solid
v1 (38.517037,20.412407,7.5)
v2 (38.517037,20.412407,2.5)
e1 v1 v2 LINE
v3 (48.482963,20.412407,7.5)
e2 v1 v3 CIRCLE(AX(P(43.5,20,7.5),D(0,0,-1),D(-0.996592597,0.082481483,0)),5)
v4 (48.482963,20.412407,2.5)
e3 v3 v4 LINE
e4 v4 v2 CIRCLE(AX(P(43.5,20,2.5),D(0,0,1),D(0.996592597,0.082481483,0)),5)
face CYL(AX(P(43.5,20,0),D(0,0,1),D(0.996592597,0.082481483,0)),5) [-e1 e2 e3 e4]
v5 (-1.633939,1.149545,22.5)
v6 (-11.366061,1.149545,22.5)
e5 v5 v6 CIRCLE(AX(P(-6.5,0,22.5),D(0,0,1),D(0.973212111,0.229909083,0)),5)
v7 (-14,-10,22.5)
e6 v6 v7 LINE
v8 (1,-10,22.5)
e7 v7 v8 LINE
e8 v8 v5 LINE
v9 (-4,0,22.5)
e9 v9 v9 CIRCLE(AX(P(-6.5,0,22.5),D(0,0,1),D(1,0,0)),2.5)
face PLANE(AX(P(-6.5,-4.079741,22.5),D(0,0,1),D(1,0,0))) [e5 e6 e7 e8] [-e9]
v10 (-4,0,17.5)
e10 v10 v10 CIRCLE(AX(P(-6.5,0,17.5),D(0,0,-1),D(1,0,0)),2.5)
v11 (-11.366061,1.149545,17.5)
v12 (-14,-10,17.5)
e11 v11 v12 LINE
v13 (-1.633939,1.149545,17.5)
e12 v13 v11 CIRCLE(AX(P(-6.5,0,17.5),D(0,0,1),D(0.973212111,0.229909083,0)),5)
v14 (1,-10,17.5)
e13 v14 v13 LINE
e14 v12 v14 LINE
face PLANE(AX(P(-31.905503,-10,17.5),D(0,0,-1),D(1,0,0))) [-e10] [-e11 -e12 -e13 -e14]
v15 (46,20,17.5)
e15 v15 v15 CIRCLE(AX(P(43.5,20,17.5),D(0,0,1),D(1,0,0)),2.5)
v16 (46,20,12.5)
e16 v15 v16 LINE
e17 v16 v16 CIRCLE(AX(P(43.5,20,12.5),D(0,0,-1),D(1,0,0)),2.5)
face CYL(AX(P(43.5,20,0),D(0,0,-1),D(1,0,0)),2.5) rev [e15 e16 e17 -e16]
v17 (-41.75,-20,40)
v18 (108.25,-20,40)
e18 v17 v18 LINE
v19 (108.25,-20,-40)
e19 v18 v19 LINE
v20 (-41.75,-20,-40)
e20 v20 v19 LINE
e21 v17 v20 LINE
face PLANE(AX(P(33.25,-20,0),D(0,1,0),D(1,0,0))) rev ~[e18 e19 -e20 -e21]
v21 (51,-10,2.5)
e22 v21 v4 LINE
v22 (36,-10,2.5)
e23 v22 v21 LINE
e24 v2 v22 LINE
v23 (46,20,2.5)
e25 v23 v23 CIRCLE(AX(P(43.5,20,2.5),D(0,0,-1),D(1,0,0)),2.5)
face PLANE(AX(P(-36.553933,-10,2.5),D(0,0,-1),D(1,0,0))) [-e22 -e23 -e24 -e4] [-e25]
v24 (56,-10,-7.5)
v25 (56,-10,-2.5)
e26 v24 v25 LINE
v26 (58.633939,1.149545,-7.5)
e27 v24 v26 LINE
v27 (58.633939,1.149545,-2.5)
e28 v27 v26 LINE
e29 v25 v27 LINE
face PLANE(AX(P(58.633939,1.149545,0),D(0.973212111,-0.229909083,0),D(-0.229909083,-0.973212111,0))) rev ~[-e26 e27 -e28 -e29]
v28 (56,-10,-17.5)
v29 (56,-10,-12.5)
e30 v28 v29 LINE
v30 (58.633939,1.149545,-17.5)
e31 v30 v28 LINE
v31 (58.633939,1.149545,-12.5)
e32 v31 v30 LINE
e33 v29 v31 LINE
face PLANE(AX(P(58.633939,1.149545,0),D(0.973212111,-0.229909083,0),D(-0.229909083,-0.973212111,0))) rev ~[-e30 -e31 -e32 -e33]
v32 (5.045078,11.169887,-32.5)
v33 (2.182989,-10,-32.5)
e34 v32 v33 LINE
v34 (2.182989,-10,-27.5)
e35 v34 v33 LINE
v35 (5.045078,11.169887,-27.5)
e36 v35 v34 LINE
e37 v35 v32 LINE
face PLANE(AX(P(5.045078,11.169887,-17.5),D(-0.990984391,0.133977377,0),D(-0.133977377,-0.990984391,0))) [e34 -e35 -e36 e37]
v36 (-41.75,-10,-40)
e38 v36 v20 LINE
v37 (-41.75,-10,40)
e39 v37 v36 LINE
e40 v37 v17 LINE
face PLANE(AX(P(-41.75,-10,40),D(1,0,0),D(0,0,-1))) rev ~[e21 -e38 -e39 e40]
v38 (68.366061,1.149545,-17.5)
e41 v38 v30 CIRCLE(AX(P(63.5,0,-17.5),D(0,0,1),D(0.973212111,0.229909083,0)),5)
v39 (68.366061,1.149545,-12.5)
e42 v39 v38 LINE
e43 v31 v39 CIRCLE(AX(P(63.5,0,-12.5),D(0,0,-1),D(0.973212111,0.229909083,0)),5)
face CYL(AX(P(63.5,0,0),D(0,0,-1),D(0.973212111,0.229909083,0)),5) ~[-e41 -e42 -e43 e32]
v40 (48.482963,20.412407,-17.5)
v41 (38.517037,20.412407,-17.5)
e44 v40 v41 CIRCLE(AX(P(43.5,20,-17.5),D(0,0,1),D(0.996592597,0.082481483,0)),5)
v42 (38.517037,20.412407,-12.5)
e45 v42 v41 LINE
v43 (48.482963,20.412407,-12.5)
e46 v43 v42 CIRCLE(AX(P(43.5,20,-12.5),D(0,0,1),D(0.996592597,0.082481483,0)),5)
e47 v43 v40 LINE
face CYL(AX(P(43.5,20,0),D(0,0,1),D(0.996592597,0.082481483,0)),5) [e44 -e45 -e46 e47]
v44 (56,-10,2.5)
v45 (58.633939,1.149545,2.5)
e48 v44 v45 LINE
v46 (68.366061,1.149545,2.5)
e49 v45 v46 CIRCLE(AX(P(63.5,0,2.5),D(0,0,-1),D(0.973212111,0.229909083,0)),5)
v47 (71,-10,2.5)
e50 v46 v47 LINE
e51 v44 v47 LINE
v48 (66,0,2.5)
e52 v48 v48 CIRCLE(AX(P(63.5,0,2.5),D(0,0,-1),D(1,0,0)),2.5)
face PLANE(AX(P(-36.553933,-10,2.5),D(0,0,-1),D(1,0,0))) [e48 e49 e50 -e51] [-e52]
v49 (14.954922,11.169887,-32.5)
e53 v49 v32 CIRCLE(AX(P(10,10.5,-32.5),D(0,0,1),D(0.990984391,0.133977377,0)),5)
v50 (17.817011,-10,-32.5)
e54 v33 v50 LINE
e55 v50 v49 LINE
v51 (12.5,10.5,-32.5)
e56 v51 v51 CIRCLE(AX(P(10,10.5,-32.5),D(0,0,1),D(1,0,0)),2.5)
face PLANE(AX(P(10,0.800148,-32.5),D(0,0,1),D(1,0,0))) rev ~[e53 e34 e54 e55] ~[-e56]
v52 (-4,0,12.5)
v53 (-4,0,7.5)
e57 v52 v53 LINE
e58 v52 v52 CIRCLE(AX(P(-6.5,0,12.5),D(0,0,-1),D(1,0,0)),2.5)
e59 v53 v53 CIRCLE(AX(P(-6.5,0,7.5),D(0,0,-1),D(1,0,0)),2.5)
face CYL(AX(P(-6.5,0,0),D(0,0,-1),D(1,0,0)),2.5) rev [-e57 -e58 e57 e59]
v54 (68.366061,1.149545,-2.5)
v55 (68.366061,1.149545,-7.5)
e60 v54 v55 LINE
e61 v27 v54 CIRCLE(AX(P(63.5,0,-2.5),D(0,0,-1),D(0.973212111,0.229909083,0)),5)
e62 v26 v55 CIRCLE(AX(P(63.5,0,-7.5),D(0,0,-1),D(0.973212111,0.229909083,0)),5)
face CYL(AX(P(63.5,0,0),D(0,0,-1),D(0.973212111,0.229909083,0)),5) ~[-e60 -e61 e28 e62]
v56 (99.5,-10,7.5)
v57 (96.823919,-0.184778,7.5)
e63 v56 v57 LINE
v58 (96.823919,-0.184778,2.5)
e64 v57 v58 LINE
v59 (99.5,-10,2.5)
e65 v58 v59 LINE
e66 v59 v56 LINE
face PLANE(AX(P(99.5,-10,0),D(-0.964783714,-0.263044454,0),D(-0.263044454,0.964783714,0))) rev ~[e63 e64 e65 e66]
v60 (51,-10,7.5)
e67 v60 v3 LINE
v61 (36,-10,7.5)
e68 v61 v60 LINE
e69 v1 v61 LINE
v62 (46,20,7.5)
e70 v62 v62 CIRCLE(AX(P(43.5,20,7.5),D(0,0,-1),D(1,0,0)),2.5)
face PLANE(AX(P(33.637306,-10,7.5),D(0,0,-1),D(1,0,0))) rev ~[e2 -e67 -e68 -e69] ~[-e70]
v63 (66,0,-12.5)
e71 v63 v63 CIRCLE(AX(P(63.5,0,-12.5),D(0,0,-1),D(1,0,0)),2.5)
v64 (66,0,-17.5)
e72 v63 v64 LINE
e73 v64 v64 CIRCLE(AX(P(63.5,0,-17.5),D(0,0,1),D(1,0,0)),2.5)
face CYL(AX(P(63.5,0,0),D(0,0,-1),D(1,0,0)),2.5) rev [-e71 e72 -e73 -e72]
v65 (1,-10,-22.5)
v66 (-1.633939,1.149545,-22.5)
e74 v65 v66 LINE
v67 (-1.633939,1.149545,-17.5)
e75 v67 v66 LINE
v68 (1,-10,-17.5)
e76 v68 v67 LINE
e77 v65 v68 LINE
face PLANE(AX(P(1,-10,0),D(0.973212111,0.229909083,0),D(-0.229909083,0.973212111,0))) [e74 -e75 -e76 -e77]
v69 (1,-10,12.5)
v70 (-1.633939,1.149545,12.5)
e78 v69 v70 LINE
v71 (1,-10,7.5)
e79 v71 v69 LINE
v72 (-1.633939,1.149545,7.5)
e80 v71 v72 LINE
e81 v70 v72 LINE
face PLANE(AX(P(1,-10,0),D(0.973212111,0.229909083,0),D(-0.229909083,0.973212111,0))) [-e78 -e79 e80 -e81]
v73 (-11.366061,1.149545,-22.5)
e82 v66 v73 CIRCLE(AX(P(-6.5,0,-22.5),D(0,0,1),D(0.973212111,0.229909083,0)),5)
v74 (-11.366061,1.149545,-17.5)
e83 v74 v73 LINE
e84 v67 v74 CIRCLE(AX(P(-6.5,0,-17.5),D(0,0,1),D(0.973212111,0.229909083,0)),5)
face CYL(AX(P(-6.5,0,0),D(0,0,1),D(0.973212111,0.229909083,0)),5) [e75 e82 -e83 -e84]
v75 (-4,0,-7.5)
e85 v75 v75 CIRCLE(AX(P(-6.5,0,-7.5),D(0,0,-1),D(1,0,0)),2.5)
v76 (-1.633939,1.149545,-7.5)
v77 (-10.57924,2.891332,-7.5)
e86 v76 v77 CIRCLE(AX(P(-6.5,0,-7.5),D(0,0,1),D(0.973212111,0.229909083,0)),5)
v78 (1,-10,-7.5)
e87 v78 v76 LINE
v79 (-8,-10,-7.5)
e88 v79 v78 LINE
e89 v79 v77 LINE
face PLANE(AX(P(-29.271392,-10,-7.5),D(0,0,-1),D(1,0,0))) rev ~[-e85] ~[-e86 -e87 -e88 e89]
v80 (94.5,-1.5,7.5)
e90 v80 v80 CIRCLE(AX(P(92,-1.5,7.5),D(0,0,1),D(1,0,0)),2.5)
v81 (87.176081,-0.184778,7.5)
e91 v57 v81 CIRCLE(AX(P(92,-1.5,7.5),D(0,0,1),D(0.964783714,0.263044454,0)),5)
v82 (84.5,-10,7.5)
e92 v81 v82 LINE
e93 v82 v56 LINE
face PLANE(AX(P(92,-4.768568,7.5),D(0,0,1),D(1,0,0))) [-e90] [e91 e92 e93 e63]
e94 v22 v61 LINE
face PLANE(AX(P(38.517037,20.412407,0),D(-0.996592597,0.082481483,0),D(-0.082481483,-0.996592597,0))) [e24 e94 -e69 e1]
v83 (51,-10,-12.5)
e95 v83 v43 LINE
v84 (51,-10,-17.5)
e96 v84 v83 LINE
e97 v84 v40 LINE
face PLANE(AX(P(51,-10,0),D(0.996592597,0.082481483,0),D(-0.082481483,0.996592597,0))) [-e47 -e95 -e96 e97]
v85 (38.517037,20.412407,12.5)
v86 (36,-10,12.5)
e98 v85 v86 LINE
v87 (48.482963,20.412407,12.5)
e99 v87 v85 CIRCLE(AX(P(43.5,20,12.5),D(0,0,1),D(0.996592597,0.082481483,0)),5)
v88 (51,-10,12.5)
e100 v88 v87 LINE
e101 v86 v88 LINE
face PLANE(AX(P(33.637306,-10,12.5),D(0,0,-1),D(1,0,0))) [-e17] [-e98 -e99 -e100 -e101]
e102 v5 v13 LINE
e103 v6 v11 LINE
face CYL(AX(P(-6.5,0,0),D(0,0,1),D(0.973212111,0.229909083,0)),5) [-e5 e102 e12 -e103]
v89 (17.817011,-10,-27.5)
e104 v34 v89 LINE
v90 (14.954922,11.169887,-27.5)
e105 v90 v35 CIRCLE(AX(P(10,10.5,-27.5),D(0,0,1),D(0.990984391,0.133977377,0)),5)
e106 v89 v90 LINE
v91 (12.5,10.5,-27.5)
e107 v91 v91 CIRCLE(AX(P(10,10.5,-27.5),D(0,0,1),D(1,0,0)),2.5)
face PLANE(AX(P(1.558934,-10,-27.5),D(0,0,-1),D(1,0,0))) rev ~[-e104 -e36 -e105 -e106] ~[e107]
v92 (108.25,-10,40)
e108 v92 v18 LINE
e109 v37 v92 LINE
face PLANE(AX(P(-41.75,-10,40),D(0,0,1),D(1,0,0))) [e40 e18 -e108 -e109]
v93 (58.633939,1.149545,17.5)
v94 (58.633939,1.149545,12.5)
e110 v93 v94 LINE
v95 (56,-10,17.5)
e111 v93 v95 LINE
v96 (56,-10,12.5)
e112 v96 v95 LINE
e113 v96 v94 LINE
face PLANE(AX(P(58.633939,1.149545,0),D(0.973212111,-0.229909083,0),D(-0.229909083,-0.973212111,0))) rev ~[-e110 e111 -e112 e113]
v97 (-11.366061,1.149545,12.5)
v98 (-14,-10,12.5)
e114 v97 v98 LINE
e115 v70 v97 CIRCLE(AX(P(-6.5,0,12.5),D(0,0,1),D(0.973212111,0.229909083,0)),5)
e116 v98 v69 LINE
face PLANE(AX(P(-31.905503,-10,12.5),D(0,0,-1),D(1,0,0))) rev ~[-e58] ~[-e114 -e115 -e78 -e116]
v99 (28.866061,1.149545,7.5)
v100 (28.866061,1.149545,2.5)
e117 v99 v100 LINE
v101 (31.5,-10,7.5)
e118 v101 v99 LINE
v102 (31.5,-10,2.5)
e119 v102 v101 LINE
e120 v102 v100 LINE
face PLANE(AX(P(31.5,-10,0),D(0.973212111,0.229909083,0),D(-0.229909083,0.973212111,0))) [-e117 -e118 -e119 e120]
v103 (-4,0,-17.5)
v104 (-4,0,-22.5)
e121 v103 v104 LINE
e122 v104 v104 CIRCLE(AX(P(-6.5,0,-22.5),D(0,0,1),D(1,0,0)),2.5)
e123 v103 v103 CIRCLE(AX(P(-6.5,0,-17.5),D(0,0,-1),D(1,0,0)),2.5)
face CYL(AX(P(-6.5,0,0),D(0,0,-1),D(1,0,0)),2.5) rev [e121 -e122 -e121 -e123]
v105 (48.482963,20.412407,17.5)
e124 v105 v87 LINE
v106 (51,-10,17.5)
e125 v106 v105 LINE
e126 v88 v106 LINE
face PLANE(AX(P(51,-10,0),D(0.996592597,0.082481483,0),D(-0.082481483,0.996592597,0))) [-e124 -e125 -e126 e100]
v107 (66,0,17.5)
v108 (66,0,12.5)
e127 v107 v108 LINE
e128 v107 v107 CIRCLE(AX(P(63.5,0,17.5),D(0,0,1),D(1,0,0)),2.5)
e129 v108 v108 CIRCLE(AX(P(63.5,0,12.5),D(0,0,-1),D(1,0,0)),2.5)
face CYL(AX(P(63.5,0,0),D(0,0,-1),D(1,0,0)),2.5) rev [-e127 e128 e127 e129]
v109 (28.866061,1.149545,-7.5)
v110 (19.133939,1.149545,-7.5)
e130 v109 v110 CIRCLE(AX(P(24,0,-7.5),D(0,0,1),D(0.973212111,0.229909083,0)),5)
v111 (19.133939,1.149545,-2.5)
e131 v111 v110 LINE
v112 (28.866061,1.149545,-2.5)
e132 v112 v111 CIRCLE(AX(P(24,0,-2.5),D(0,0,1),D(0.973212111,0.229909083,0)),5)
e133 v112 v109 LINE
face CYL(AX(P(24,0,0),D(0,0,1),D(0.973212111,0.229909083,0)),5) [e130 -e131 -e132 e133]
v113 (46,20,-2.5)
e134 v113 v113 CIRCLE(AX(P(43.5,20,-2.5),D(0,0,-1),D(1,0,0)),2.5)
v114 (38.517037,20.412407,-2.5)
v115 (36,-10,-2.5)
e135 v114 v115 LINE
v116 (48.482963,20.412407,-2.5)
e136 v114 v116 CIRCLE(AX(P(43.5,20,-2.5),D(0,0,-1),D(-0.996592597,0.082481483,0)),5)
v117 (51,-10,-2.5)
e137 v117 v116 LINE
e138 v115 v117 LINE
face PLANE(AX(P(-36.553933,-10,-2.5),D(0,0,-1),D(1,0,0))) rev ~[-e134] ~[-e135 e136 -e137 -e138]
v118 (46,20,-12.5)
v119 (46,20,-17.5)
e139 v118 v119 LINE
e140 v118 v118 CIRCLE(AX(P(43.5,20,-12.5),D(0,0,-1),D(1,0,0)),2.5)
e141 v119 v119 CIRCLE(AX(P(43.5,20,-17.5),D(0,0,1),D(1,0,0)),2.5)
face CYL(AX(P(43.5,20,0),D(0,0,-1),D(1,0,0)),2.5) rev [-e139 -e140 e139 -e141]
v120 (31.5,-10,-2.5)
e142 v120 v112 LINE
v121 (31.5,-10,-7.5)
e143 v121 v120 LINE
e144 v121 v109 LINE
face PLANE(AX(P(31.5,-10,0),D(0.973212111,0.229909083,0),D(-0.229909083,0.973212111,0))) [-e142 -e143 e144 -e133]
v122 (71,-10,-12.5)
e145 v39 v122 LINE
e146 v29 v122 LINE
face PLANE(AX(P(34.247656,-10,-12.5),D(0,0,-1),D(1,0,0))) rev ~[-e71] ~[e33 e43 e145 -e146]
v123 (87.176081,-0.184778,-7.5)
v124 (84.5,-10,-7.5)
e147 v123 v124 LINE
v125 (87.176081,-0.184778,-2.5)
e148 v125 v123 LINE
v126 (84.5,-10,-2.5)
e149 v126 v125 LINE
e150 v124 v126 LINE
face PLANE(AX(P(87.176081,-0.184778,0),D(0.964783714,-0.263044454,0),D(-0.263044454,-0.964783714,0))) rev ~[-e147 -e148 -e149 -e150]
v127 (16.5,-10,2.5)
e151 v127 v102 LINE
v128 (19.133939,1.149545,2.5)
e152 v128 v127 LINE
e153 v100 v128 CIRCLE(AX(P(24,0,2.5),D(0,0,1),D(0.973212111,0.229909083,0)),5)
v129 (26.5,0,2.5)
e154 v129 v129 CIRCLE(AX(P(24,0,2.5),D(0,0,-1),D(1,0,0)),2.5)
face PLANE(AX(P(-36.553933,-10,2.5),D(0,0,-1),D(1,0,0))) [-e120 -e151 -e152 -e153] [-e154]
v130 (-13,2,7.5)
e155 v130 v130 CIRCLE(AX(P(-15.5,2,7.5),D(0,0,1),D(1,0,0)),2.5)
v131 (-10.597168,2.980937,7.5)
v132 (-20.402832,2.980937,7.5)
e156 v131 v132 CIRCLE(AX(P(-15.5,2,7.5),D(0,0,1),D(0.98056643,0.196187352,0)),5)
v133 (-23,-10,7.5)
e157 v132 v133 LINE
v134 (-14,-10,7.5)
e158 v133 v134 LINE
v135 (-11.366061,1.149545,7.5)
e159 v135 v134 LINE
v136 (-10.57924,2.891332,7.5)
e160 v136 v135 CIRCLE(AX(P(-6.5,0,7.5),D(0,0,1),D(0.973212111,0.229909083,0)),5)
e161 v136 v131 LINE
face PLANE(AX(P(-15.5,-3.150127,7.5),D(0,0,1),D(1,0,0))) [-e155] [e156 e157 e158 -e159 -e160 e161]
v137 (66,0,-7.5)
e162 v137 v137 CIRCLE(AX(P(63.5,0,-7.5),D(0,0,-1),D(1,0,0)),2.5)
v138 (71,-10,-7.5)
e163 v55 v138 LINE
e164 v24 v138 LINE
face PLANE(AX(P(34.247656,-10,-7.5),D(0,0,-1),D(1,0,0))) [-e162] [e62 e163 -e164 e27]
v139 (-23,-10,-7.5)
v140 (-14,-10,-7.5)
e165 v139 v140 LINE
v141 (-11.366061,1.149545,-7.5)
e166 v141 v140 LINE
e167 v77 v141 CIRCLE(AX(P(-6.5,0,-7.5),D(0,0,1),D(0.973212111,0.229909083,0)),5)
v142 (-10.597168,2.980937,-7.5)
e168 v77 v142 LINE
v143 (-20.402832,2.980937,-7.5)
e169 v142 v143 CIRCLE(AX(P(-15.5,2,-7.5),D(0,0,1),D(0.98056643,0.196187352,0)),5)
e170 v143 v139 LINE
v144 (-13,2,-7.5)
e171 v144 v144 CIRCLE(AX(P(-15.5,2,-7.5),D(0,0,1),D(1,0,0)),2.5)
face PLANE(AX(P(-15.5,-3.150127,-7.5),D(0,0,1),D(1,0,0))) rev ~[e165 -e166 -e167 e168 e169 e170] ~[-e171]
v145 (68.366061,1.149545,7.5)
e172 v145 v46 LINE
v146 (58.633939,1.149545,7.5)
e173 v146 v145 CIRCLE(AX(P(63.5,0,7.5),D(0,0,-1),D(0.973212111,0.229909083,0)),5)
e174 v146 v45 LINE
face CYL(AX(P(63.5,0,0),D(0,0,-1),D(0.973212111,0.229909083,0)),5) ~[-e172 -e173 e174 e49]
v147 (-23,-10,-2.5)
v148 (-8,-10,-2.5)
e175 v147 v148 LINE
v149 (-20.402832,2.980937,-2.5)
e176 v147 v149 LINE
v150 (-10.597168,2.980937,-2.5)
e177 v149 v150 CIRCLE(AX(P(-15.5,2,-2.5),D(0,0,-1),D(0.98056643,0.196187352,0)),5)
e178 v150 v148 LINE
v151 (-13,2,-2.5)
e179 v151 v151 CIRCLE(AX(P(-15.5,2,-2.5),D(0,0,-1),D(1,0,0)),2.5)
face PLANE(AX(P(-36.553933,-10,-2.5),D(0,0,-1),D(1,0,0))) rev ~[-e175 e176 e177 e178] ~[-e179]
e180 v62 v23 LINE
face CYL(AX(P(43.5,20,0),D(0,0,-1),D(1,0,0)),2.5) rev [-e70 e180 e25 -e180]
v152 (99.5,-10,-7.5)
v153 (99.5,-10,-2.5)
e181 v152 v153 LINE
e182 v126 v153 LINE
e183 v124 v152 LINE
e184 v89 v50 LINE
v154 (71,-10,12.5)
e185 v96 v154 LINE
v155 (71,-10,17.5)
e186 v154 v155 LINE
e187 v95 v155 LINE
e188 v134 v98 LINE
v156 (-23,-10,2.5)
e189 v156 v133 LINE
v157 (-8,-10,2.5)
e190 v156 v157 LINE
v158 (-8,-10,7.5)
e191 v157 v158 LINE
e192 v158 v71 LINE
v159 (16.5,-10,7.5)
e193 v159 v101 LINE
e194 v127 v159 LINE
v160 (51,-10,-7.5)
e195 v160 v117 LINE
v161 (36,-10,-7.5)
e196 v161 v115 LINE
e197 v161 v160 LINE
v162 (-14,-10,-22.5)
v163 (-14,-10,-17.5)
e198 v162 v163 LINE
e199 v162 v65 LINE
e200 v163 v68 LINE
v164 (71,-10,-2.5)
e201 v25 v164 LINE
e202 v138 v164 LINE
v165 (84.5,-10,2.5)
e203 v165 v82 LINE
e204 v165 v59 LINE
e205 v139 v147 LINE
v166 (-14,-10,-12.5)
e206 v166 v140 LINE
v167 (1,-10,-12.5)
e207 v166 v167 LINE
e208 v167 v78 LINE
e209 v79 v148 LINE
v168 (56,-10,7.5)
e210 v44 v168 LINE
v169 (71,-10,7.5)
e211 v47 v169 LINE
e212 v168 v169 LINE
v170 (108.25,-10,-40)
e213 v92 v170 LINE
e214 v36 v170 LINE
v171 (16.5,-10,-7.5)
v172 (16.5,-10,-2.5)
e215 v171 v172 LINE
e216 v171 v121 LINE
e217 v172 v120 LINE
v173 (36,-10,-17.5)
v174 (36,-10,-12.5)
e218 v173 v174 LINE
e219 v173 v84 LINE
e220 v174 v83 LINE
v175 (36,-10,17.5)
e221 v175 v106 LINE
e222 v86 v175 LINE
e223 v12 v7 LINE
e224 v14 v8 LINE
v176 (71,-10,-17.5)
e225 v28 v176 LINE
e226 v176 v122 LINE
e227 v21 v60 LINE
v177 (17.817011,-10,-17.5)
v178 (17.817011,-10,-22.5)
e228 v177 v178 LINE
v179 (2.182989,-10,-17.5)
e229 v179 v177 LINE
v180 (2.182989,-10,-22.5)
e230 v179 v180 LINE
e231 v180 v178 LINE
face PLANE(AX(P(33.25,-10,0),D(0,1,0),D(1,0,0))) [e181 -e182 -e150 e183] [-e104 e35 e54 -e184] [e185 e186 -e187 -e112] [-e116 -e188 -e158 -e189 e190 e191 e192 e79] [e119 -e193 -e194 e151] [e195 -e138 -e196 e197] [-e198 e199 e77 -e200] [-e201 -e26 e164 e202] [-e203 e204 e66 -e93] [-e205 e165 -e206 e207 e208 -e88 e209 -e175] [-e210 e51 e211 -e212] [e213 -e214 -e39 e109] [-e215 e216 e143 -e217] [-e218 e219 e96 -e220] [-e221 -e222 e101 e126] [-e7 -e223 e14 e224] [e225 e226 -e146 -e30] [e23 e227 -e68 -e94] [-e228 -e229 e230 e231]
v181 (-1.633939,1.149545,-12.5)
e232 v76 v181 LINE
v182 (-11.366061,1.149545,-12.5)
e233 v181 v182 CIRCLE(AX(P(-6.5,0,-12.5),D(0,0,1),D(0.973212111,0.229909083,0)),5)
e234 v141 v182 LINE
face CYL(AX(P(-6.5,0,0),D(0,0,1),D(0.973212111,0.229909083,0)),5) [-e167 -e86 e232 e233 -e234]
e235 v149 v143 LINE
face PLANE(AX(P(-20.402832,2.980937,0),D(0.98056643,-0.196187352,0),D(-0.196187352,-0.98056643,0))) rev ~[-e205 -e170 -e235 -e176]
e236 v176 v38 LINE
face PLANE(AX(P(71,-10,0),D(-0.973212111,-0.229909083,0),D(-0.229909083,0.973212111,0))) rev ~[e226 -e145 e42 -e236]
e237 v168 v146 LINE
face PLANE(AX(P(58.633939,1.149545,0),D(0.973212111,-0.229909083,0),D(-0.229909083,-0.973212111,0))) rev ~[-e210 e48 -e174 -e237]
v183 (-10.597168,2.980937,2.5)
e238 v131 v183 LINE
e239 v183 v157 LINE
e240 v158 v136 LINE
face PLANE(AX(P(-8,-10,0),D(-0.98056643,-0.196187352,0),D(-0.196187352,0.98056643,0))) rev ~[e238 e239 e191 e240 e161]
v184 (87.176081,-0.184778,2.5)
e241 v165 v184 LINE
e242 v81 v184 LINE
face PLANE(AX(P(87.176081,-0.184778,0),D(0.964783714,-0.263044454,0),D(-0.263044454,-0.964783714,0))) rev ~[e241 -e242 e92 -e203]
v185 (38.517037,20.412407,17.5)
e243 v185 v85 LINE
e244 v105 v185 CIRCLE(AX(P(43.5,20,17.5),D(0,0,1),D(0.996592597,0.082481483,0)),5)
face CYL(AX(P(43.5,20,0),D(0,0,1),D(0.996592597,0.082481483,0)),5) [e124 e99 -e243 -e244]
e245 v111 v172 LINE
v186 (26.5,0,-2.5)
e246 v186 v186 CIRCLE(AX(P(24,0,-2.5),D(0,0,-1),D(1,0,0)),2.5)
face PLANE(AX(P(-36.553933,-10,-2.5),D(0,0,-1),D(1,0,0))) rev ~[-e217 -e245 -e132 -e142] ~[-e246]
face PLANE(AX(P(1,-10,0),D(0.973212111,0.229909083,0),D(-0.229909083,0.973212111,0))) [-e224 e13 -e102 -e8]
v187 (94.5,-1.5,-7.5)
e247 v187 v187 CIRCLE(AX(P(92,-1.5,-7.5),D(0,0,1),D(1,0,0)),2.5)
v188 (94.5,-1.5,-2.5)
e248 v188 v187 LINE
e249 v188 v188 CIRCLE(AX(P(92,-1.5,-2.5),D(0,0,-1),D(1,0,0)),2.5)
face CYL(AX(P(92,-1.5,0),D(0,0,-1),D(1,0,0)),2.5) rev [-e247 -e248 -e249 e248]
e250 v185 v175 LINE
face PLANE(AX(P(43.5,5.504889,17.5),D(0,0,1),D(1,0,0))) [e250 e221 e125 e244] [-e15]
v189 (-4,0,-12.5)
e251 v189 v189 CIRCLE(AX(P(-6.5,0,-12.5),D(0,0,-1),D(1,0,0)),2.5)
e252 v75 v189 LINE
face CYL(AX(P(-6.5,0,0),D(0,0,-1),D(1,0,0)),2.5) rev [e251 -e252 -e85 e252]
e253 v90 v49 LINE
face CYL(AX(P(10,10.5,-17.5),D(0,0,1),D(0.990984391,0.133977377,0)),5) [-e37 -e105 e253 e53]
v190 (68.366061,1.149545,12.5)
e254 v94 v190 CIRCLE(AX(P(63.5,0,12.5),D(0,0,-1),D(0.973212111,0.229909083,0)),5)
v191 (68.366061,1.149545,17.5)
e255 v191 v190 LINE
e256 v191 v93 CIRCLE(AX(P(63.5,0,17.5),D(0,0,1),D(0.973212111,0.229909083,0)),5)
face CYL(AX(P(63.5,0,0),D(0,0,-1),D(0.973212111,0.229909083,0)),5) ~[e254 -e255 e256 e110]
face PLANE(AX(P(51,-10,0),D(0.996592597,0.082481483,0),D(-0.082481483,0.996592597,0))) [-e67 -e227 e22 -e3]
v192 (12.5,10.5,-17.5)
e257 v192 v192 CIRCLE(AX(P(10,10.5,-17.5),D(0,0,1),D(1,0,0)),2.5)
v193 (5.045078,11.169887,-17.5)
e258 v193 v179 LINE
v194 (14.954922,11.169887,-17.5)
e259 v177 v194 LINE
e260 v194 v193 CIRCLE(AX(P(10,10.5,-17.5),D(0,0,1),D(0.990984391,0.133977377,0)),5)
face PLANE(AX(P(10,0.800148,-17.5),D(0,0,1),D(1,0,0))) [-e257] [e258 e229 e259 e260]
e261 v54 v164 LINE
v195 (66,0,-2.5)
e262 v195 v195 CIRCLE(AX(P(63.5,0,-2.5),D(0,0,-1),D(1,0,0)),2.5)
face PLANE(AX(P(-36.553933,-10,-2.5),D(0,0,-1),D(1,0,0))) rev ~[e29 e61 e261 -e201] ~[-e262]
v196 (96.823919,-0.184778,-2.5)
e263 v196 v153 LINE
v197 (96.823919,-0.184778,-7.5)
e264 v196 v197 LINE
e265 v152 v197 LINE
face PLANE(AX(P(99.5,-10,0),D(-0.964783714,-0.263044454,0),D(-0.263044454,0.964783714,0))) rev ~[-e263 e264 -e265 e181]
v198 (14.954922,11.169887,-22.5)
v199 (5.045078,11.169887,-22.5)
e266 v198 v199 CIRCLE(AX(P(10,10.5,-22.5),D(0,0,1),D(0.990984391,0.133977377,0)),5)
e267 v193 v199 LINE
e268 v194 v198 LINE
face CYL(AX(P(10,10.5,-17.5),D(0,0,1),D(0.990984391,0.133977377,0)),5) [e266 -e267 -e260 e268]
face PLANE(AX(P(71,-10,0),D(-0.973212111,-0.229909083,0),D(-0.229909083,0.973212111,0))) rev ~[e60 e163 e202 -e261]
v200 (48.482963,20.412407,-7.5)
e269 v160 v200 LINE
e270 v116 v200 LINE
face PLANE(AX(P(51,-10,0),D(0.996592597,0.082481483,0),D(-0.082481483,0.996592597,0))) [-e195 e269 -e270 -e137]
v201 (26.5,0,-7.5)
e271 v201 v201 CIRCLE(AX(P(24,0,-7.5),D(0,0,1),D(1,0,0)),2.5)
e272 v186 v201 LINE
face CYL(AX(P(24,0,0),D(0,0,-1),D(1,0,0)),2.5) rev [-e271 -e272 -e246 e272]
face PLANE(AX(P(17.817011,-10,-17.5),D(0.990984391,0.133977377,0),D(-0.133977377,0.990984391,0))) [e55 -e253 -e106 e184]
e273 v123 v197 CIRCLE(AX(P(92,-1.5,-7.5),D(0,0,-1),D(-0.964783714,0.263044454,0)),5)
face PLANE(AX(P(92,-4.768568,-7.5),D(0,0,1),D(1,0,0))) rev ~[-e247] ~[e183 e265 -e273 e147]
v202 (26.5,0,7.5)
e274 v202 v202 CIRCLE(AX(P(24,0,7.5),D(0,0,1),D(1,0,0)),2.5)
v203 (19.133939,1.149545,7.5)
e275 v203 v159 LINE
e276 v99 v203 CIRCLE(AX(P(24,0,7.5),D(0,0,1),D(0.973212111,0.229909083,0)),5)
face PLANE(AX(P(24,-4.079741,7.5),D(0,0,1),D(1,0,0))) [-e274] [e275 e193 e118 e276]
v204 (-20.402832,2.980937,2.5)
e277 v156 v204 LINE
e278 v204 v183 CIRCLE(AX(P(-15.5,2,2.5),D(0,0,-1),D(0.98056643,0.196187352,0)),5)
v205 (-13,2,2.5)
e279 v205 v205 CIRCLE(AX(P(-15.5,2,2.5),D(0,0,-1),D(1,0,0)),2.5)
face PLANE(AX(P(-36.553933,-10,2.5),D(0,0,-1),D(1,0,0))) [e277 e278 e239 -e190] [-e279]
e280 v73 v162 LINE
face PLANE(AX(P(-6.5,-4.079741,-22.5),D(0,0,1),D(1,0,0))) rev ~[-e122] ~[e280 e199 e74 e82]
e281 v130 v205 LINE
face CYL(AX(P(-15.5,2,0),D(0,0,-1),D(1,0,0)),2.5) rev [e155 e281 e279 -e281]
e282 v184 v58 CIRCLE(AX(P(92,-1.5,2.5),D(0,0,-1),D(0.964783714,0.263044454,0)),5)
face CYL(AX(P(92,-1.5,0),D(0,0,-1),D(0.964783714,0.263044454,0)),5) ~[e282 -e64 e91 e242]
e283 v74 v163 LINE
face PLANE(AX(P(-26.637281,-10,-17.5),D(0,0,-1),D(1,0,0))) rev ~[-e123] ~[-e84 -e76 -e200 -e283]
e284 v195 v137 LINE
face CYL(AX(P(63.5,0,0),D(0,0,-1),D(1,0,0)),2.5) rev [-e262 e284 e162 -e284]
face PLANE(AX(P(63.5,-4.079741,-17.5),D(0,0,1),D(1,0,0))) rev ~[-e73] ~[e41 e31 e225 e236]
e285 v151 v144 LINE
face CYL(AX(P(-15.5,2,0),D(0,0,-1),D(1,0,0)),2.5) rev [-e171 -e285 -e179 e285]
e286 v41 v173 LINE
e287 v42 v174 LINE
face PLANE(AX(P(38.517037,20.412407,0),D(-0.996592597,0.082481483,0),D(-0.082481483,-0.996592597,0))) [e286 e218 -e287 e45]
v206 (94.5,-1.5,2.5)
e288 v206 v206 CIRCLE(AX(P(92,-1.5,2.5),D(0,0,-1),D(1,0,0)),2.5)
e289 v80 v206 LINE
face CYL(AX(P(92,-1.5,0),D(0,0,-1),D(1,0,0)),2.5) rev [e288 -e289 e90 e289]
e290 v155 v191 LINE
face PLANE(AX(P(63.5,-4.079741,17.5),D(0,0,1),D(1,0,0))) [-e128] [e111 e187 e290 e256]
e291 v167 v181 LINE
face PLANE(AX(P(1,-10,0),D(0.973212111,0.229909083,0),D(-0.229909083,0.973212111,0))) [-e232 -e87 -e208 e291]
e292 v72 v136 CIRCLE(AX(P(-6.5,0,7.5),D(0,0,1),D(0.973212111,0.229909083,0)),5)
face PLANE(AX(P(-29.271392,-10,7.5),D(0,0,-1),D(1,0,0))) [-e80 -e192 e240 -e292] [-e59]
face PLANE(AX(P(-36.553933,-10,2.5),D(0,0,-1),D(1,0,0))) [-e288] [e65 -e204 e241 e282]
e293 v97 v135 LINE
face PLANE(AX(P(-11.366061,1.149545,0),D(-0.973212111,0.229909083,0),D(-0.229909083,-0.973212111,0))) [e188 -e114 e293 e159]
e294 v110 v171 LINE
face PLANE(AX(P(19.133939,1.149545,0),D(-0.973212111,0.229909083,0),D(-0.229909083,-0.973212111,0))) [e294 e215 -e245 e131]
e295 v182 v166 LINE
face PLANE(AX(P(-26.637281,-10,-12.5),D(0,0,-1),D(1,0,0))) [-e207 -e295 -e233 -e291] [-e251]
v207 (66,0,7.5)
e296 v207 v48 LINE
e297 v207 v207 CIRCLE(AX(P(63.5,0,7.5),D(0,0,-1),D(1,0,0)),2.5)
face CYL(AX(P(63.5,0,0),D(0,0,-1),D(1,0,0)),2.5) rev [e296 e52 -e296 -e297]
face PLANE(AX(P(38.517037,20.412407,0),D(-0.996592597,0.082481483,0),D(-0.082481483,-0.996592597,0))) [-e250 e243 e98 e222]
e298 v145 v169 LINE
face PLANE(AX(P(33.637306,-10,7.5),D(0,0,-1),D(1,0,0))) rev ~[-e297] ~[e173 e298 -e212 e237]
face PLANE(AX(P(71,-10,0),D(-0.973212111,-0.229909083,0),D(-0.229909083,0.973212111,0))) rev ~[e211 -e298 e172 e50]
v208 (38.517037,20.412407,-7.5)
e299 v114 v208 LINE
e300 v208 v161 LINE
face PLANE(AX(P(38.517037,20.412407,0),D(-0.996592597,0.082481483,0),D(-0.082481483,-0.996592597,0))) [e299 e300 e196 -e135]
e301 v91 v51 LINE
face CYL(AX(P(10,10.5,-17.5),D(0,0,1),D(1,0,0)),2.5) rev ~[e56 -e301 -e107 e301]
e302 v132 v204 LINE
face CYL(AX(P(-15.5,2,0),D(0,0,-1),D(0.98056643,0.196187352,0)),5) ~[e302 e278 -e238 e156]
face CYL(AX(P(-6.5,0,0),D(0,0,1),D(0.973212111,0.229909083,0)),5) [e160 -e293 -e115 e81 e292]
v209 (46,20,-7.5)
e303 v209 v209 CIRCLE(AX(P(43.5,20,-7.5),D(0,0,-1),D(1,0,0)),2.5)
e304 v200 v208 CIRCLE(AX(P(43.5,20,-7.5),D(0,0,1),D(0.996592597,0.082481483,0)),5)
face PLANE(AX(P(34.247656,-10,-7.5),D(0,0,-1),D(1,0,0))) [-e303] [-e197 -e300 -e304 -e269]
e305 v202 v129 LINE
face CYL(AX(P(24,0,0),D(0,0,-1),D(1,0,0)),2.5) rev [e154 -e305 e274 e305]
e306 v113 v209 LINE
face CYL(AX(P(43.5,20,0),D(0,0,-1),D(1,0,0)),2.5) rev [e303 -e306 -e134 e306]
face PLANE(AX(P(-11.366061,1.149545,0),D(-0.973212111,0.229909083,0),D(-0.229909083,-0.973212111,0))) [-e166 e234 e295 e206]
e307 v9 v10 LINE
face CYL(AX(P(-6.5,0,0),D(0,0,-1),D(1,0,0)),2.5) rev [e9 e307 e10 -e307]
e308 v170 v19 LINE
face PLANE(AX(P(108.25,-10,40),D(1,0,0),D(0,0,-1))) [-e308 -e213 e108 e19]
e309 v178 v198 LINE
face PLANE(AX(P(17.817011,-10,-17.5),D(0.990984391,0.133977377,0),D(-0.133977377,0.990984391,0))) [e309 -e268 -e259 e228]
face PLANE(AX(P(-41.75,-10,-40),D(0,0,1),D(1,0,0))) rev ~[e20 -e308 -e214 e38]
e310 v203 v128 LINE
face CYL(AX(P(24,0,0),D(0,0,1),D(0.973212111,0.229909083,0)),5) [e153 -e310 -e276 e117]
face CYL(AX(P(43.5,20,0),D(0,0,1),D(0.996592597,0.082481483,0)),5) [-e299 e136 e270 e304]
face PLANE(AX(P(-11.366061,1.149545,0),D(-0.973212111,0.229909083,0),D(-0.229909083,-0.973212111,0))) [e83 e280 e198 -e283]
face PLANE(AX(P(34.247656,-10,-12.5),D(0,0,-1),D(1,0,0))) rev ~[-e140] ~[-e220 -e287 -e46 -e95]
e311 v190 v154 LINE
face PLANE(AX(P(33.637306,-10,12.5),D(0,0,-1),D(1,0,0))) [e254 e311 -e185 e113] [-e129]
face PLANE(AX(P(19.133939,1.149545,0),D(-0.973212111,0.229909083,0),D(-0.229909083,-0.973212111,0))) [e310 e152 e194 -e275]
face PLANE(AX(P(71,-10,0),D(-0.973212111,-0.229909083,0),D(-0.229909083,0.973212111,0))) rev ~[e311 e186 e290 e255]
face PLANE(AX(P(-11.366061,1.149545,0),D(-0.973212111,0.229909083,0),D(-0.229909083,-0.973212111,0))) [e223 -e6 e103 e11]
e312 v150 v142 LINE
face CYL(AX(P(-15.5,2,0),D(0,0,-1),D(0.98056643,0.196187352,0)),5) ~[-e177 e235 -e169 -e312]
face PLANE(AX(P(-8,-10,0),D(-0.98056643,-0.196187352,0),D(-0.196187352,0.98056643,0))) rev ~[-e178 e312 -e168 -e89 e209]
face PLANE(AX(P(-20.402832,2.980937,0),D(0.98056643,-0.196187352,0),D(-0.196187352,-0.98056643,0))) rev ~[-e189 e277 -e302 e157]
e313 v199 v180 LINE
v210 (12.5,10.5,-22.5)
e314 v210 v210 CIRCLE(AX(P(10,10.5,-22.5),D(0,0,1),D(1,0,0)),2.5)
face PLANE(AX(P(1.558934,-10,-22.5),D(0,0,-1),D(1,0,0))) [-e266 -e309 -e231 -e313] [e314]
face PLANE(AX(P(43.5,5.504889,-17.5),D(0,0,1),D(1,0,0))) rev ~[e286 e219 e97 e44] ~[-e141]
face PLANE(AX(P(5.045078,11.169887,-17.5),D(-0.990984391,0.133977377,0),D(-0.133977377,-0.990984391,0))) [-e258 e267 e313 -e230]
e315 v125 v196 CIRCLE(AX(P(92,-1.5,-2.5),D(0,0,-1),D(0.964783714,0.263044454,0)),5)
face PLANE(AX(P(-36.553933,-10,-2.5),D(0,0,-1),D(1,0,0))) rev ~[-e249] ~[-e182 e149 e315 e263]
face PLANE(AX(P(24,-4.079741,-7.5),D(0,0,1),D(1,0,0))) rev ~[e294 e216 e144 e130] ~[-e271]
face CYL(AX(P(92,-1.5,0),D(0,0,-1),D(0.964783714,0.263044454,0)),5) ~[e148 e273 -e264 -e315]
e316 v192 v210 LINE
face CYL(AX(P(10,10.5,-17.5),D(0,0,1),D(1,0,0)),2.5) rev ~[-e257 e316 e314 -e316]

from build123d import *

# Parameters (mm, degrees)
EXTRUDE_START       = -10
SKETCH_3_W          = 150
SKETCH_3_H          = 80
EXTRUDE_3_DEPTH     = 10
SKETCH_5_R          = 2.5
EXTRUDE_5_DEPTH     = 22.5
SKETCH_6_W          = 53.56449621
SKETCH_6_H          = 15
SKETCH_6_W_2        = 55.316324433
SKETCH_6_H_2        = 5
SKETCH_6_W_3        = 50.048103058
CUT_EXTRUDE_1_DEPTH = 40
SKETCH_7_R          = 2.5
EXTRUDE_6_DEPTH     = 17.5
SKETCH_4_R          = 2.5
EXTRUDE_4_DEPTH     = 7.5
EXTRUDE_START_2     = -17.5
SKETCH_9_R          = 2.5
EXTRUDE_7_DEPTH     = 15
SKETCH_8_W          = 149.834413798
SKETCH_8_H          = 5
SKETCH_8_W_2        = 53.466456482
SKETCH_8_W_3        = 46.484368984
SKETCH_8_W_4        = 21.970588524
CUT_EXTRUDE_2_DEPTH = 35


with BuildPart() as part:
    # 草圖3 → 填料-伸長3 (new body)
    with BuildSketch(Plane(origin=(0, 0, 0), x_dir=(1, 0, 0), z_dir=(0, 1, 0)).offset(EXTRUDE_START)):
        with Locations((33.25, 0)):
            Rectangle(SKETCH_3_W, SKETCH_3_H)
    extrude(amount=-EXTRUDE_3_DEPTH)

    # 草圖5 → 填料-伸長5 (add, symmetric)
    with BuildSketch(Plane.XY):
        with BuildLine():
            Line((-11.366060556, 1.149545417), (-14, -10))
            Line((-14, -10), (1, -10))
            Line((1, -10), (-1.633939444, 1.149545417))
            ThreePointArc((-1.633939444, 1.149545417), (-6.5, 5), (-11.366060556, 1.149545417))
        make_face()
        with Locations((-6.5, 0)):
            Circle(SKETCH_5_R, mode=Mode.SUBTRACT)
    extrude(amount=EXTRUDE_5_DEPTH, both=True)

    # 草圖6 → 除料-伸長1 (cut)
    with BuildSketch(Plane(origin=(0, -10, 0), x_dir=(1, 0, 0), z_dir=(0, 1, 0))):
        with Locations((-2.489143795, 0)):
            Rectangle(SKETCH_6_W, SKETCH_6_H)
        with Locations((-4.247340371, -15)):
            Rectangle(SKETCH_6_W_2, SKETCH_6_H_2)
        with Locations((-1.613229684, 15)):
            Rectangle(SKETCH_6_W_3, SKETCH_6_H_2)
    extrude(amount=CUT_EXTRUDE_1_DEPTH, mode=Mode.SUBTRACT)

    # 草圖7 → 填料-伸長6 (add, symmetric)
    with BuildSketch(Plane.XY):
        with BuildLine():
            Line((58.633939444, 1.149545417), (56, -10))
            Line((56, -10), (71, -10))
            Line((71, -10), (68.366060556, 1.149545417))
            ThreePointArc((68.366060556, 1.149545417), (63.5, 5), (58.633939444, 1.149545417))
        make_face()
        with Locations((63.5, 0)):
            Circle(SKETCH_7_R, mode=Mode.SUBTRACT)
        with BuildLine():
            Line((38.517037013, 20.412407413), (36, -10))
            Line((36, -10), (51, -10))
            Line((51, -10), (48.482962987, 20.412407413))
            ThreePointArc((48.482962987, 20.412407413), (43.5, 25), (38.517037013, 20.412407413))
        make_face()
        with Locations((43.5, 20)):
            Circle(SKETCH_7_R, mode=Mode.SUBTRACT)
    extrude(amount=EXTRUDE_6_DEPTH, both=True)

    # 草圖4 → 填料-伸長4 (add, symmetric)
    with BuildSketch(Plane.XY):
        with BuildLine():
            Line((87.176081429, -0.184777731), (84.5, -10))
            Line((84.5, -10), (99.5, -10))
            Line((99.5, -10), (96.823918571, -0.184777731))
            ThreePointArc((96.823918571, -0.184777731), (92, 3.5), (87.176081429, -0.184777731))
        make_face()
        with Locations((92, -1.5)):
            Circle(SKETCH_4_R, mode=Mode.SUBTRACT)
        with BuildLine():
            Line((-20.402832148, 2.980936759), (-23, -10))
            Line((-23, -10), (-8, -10))
            Line((-8, -10), (-10.597167852, 2.980936759))
            ThreePointArc((-10.597167852, 2.980936759), (-15.5, 7), (-20.402832148, 2.980936759))
        make_face()
        with Locations((-15.5, 2)):
            Circle(SKETCH_4_R, mode=Mode.SUBTRACT)
        with BuildLine():
            Line((19.133939444, 1.149545417), (16.5, -10))
            Line((16.5, -10), (31.5, -10))
            Line((31.5, -10), (28.866060556, 1.149545417))
            ThreePointArc((28.866060556, 1.149545417), (24, 5), (19.133939444, 1.149545417))
        make_face()
        with Locations((24, 0)):
            Circle(SKETCH_4_R, mode=Mode.SUBTRACT)
    extrude(amount=EXTRUDE_4_DEPTH, both=True)

    # 草圖9 → 填料-伸長7 (add)
    with BuildSketch(Plane.XY.offset(EXTRUDE_START_2)):
        with BuildLine():
            Line((5.045078047, 11.169886883), (2.182988659, -10))
            Line((2.182988659, -10), (17.817011341, -10))
            Line((17.817011341, -10), (14.954921953, 11.169886883))
            ThreePointArc((14.954921953, 11.169886883), (10, 15.5), (5.045078047, 11.169886883))
        make_face()
        with Locations((10, 10.5)):
            Circle(SKETCH_9_R, mode=Mode.SUBTRACT)
    extrude(amount=-EXTRUDE_7_DEPTH)

    # 草圖8 → 除料-伸長2 (cut)
    with BuildSketch(Plane(origin=(0, -10, 0), x_dir=(1, 0, 0), z_dir=(0, 1, 0))):
        with Locations((38.363273687, 0)):
            Rectangle(SKETCH_8_W, SKETCH_8_H)
        with Locations((60.98088391, 10)):
            Rectangle(SKETCH_8_W_2, SKETCH_8_H)
        with Locations((56.879490972, -10)):
            Rectangle(SKETCH_8_W_3, SKETCH_8_H)
        with Locations((12.54422866, 25)):
            Rectangle(SKETCH_8_W_4, SKETCH_8_H)
    extrude(amount=CUT_EXTRUDE_2_DEPTH, mode=Mode.SUBTRACT)


solid = part.part
